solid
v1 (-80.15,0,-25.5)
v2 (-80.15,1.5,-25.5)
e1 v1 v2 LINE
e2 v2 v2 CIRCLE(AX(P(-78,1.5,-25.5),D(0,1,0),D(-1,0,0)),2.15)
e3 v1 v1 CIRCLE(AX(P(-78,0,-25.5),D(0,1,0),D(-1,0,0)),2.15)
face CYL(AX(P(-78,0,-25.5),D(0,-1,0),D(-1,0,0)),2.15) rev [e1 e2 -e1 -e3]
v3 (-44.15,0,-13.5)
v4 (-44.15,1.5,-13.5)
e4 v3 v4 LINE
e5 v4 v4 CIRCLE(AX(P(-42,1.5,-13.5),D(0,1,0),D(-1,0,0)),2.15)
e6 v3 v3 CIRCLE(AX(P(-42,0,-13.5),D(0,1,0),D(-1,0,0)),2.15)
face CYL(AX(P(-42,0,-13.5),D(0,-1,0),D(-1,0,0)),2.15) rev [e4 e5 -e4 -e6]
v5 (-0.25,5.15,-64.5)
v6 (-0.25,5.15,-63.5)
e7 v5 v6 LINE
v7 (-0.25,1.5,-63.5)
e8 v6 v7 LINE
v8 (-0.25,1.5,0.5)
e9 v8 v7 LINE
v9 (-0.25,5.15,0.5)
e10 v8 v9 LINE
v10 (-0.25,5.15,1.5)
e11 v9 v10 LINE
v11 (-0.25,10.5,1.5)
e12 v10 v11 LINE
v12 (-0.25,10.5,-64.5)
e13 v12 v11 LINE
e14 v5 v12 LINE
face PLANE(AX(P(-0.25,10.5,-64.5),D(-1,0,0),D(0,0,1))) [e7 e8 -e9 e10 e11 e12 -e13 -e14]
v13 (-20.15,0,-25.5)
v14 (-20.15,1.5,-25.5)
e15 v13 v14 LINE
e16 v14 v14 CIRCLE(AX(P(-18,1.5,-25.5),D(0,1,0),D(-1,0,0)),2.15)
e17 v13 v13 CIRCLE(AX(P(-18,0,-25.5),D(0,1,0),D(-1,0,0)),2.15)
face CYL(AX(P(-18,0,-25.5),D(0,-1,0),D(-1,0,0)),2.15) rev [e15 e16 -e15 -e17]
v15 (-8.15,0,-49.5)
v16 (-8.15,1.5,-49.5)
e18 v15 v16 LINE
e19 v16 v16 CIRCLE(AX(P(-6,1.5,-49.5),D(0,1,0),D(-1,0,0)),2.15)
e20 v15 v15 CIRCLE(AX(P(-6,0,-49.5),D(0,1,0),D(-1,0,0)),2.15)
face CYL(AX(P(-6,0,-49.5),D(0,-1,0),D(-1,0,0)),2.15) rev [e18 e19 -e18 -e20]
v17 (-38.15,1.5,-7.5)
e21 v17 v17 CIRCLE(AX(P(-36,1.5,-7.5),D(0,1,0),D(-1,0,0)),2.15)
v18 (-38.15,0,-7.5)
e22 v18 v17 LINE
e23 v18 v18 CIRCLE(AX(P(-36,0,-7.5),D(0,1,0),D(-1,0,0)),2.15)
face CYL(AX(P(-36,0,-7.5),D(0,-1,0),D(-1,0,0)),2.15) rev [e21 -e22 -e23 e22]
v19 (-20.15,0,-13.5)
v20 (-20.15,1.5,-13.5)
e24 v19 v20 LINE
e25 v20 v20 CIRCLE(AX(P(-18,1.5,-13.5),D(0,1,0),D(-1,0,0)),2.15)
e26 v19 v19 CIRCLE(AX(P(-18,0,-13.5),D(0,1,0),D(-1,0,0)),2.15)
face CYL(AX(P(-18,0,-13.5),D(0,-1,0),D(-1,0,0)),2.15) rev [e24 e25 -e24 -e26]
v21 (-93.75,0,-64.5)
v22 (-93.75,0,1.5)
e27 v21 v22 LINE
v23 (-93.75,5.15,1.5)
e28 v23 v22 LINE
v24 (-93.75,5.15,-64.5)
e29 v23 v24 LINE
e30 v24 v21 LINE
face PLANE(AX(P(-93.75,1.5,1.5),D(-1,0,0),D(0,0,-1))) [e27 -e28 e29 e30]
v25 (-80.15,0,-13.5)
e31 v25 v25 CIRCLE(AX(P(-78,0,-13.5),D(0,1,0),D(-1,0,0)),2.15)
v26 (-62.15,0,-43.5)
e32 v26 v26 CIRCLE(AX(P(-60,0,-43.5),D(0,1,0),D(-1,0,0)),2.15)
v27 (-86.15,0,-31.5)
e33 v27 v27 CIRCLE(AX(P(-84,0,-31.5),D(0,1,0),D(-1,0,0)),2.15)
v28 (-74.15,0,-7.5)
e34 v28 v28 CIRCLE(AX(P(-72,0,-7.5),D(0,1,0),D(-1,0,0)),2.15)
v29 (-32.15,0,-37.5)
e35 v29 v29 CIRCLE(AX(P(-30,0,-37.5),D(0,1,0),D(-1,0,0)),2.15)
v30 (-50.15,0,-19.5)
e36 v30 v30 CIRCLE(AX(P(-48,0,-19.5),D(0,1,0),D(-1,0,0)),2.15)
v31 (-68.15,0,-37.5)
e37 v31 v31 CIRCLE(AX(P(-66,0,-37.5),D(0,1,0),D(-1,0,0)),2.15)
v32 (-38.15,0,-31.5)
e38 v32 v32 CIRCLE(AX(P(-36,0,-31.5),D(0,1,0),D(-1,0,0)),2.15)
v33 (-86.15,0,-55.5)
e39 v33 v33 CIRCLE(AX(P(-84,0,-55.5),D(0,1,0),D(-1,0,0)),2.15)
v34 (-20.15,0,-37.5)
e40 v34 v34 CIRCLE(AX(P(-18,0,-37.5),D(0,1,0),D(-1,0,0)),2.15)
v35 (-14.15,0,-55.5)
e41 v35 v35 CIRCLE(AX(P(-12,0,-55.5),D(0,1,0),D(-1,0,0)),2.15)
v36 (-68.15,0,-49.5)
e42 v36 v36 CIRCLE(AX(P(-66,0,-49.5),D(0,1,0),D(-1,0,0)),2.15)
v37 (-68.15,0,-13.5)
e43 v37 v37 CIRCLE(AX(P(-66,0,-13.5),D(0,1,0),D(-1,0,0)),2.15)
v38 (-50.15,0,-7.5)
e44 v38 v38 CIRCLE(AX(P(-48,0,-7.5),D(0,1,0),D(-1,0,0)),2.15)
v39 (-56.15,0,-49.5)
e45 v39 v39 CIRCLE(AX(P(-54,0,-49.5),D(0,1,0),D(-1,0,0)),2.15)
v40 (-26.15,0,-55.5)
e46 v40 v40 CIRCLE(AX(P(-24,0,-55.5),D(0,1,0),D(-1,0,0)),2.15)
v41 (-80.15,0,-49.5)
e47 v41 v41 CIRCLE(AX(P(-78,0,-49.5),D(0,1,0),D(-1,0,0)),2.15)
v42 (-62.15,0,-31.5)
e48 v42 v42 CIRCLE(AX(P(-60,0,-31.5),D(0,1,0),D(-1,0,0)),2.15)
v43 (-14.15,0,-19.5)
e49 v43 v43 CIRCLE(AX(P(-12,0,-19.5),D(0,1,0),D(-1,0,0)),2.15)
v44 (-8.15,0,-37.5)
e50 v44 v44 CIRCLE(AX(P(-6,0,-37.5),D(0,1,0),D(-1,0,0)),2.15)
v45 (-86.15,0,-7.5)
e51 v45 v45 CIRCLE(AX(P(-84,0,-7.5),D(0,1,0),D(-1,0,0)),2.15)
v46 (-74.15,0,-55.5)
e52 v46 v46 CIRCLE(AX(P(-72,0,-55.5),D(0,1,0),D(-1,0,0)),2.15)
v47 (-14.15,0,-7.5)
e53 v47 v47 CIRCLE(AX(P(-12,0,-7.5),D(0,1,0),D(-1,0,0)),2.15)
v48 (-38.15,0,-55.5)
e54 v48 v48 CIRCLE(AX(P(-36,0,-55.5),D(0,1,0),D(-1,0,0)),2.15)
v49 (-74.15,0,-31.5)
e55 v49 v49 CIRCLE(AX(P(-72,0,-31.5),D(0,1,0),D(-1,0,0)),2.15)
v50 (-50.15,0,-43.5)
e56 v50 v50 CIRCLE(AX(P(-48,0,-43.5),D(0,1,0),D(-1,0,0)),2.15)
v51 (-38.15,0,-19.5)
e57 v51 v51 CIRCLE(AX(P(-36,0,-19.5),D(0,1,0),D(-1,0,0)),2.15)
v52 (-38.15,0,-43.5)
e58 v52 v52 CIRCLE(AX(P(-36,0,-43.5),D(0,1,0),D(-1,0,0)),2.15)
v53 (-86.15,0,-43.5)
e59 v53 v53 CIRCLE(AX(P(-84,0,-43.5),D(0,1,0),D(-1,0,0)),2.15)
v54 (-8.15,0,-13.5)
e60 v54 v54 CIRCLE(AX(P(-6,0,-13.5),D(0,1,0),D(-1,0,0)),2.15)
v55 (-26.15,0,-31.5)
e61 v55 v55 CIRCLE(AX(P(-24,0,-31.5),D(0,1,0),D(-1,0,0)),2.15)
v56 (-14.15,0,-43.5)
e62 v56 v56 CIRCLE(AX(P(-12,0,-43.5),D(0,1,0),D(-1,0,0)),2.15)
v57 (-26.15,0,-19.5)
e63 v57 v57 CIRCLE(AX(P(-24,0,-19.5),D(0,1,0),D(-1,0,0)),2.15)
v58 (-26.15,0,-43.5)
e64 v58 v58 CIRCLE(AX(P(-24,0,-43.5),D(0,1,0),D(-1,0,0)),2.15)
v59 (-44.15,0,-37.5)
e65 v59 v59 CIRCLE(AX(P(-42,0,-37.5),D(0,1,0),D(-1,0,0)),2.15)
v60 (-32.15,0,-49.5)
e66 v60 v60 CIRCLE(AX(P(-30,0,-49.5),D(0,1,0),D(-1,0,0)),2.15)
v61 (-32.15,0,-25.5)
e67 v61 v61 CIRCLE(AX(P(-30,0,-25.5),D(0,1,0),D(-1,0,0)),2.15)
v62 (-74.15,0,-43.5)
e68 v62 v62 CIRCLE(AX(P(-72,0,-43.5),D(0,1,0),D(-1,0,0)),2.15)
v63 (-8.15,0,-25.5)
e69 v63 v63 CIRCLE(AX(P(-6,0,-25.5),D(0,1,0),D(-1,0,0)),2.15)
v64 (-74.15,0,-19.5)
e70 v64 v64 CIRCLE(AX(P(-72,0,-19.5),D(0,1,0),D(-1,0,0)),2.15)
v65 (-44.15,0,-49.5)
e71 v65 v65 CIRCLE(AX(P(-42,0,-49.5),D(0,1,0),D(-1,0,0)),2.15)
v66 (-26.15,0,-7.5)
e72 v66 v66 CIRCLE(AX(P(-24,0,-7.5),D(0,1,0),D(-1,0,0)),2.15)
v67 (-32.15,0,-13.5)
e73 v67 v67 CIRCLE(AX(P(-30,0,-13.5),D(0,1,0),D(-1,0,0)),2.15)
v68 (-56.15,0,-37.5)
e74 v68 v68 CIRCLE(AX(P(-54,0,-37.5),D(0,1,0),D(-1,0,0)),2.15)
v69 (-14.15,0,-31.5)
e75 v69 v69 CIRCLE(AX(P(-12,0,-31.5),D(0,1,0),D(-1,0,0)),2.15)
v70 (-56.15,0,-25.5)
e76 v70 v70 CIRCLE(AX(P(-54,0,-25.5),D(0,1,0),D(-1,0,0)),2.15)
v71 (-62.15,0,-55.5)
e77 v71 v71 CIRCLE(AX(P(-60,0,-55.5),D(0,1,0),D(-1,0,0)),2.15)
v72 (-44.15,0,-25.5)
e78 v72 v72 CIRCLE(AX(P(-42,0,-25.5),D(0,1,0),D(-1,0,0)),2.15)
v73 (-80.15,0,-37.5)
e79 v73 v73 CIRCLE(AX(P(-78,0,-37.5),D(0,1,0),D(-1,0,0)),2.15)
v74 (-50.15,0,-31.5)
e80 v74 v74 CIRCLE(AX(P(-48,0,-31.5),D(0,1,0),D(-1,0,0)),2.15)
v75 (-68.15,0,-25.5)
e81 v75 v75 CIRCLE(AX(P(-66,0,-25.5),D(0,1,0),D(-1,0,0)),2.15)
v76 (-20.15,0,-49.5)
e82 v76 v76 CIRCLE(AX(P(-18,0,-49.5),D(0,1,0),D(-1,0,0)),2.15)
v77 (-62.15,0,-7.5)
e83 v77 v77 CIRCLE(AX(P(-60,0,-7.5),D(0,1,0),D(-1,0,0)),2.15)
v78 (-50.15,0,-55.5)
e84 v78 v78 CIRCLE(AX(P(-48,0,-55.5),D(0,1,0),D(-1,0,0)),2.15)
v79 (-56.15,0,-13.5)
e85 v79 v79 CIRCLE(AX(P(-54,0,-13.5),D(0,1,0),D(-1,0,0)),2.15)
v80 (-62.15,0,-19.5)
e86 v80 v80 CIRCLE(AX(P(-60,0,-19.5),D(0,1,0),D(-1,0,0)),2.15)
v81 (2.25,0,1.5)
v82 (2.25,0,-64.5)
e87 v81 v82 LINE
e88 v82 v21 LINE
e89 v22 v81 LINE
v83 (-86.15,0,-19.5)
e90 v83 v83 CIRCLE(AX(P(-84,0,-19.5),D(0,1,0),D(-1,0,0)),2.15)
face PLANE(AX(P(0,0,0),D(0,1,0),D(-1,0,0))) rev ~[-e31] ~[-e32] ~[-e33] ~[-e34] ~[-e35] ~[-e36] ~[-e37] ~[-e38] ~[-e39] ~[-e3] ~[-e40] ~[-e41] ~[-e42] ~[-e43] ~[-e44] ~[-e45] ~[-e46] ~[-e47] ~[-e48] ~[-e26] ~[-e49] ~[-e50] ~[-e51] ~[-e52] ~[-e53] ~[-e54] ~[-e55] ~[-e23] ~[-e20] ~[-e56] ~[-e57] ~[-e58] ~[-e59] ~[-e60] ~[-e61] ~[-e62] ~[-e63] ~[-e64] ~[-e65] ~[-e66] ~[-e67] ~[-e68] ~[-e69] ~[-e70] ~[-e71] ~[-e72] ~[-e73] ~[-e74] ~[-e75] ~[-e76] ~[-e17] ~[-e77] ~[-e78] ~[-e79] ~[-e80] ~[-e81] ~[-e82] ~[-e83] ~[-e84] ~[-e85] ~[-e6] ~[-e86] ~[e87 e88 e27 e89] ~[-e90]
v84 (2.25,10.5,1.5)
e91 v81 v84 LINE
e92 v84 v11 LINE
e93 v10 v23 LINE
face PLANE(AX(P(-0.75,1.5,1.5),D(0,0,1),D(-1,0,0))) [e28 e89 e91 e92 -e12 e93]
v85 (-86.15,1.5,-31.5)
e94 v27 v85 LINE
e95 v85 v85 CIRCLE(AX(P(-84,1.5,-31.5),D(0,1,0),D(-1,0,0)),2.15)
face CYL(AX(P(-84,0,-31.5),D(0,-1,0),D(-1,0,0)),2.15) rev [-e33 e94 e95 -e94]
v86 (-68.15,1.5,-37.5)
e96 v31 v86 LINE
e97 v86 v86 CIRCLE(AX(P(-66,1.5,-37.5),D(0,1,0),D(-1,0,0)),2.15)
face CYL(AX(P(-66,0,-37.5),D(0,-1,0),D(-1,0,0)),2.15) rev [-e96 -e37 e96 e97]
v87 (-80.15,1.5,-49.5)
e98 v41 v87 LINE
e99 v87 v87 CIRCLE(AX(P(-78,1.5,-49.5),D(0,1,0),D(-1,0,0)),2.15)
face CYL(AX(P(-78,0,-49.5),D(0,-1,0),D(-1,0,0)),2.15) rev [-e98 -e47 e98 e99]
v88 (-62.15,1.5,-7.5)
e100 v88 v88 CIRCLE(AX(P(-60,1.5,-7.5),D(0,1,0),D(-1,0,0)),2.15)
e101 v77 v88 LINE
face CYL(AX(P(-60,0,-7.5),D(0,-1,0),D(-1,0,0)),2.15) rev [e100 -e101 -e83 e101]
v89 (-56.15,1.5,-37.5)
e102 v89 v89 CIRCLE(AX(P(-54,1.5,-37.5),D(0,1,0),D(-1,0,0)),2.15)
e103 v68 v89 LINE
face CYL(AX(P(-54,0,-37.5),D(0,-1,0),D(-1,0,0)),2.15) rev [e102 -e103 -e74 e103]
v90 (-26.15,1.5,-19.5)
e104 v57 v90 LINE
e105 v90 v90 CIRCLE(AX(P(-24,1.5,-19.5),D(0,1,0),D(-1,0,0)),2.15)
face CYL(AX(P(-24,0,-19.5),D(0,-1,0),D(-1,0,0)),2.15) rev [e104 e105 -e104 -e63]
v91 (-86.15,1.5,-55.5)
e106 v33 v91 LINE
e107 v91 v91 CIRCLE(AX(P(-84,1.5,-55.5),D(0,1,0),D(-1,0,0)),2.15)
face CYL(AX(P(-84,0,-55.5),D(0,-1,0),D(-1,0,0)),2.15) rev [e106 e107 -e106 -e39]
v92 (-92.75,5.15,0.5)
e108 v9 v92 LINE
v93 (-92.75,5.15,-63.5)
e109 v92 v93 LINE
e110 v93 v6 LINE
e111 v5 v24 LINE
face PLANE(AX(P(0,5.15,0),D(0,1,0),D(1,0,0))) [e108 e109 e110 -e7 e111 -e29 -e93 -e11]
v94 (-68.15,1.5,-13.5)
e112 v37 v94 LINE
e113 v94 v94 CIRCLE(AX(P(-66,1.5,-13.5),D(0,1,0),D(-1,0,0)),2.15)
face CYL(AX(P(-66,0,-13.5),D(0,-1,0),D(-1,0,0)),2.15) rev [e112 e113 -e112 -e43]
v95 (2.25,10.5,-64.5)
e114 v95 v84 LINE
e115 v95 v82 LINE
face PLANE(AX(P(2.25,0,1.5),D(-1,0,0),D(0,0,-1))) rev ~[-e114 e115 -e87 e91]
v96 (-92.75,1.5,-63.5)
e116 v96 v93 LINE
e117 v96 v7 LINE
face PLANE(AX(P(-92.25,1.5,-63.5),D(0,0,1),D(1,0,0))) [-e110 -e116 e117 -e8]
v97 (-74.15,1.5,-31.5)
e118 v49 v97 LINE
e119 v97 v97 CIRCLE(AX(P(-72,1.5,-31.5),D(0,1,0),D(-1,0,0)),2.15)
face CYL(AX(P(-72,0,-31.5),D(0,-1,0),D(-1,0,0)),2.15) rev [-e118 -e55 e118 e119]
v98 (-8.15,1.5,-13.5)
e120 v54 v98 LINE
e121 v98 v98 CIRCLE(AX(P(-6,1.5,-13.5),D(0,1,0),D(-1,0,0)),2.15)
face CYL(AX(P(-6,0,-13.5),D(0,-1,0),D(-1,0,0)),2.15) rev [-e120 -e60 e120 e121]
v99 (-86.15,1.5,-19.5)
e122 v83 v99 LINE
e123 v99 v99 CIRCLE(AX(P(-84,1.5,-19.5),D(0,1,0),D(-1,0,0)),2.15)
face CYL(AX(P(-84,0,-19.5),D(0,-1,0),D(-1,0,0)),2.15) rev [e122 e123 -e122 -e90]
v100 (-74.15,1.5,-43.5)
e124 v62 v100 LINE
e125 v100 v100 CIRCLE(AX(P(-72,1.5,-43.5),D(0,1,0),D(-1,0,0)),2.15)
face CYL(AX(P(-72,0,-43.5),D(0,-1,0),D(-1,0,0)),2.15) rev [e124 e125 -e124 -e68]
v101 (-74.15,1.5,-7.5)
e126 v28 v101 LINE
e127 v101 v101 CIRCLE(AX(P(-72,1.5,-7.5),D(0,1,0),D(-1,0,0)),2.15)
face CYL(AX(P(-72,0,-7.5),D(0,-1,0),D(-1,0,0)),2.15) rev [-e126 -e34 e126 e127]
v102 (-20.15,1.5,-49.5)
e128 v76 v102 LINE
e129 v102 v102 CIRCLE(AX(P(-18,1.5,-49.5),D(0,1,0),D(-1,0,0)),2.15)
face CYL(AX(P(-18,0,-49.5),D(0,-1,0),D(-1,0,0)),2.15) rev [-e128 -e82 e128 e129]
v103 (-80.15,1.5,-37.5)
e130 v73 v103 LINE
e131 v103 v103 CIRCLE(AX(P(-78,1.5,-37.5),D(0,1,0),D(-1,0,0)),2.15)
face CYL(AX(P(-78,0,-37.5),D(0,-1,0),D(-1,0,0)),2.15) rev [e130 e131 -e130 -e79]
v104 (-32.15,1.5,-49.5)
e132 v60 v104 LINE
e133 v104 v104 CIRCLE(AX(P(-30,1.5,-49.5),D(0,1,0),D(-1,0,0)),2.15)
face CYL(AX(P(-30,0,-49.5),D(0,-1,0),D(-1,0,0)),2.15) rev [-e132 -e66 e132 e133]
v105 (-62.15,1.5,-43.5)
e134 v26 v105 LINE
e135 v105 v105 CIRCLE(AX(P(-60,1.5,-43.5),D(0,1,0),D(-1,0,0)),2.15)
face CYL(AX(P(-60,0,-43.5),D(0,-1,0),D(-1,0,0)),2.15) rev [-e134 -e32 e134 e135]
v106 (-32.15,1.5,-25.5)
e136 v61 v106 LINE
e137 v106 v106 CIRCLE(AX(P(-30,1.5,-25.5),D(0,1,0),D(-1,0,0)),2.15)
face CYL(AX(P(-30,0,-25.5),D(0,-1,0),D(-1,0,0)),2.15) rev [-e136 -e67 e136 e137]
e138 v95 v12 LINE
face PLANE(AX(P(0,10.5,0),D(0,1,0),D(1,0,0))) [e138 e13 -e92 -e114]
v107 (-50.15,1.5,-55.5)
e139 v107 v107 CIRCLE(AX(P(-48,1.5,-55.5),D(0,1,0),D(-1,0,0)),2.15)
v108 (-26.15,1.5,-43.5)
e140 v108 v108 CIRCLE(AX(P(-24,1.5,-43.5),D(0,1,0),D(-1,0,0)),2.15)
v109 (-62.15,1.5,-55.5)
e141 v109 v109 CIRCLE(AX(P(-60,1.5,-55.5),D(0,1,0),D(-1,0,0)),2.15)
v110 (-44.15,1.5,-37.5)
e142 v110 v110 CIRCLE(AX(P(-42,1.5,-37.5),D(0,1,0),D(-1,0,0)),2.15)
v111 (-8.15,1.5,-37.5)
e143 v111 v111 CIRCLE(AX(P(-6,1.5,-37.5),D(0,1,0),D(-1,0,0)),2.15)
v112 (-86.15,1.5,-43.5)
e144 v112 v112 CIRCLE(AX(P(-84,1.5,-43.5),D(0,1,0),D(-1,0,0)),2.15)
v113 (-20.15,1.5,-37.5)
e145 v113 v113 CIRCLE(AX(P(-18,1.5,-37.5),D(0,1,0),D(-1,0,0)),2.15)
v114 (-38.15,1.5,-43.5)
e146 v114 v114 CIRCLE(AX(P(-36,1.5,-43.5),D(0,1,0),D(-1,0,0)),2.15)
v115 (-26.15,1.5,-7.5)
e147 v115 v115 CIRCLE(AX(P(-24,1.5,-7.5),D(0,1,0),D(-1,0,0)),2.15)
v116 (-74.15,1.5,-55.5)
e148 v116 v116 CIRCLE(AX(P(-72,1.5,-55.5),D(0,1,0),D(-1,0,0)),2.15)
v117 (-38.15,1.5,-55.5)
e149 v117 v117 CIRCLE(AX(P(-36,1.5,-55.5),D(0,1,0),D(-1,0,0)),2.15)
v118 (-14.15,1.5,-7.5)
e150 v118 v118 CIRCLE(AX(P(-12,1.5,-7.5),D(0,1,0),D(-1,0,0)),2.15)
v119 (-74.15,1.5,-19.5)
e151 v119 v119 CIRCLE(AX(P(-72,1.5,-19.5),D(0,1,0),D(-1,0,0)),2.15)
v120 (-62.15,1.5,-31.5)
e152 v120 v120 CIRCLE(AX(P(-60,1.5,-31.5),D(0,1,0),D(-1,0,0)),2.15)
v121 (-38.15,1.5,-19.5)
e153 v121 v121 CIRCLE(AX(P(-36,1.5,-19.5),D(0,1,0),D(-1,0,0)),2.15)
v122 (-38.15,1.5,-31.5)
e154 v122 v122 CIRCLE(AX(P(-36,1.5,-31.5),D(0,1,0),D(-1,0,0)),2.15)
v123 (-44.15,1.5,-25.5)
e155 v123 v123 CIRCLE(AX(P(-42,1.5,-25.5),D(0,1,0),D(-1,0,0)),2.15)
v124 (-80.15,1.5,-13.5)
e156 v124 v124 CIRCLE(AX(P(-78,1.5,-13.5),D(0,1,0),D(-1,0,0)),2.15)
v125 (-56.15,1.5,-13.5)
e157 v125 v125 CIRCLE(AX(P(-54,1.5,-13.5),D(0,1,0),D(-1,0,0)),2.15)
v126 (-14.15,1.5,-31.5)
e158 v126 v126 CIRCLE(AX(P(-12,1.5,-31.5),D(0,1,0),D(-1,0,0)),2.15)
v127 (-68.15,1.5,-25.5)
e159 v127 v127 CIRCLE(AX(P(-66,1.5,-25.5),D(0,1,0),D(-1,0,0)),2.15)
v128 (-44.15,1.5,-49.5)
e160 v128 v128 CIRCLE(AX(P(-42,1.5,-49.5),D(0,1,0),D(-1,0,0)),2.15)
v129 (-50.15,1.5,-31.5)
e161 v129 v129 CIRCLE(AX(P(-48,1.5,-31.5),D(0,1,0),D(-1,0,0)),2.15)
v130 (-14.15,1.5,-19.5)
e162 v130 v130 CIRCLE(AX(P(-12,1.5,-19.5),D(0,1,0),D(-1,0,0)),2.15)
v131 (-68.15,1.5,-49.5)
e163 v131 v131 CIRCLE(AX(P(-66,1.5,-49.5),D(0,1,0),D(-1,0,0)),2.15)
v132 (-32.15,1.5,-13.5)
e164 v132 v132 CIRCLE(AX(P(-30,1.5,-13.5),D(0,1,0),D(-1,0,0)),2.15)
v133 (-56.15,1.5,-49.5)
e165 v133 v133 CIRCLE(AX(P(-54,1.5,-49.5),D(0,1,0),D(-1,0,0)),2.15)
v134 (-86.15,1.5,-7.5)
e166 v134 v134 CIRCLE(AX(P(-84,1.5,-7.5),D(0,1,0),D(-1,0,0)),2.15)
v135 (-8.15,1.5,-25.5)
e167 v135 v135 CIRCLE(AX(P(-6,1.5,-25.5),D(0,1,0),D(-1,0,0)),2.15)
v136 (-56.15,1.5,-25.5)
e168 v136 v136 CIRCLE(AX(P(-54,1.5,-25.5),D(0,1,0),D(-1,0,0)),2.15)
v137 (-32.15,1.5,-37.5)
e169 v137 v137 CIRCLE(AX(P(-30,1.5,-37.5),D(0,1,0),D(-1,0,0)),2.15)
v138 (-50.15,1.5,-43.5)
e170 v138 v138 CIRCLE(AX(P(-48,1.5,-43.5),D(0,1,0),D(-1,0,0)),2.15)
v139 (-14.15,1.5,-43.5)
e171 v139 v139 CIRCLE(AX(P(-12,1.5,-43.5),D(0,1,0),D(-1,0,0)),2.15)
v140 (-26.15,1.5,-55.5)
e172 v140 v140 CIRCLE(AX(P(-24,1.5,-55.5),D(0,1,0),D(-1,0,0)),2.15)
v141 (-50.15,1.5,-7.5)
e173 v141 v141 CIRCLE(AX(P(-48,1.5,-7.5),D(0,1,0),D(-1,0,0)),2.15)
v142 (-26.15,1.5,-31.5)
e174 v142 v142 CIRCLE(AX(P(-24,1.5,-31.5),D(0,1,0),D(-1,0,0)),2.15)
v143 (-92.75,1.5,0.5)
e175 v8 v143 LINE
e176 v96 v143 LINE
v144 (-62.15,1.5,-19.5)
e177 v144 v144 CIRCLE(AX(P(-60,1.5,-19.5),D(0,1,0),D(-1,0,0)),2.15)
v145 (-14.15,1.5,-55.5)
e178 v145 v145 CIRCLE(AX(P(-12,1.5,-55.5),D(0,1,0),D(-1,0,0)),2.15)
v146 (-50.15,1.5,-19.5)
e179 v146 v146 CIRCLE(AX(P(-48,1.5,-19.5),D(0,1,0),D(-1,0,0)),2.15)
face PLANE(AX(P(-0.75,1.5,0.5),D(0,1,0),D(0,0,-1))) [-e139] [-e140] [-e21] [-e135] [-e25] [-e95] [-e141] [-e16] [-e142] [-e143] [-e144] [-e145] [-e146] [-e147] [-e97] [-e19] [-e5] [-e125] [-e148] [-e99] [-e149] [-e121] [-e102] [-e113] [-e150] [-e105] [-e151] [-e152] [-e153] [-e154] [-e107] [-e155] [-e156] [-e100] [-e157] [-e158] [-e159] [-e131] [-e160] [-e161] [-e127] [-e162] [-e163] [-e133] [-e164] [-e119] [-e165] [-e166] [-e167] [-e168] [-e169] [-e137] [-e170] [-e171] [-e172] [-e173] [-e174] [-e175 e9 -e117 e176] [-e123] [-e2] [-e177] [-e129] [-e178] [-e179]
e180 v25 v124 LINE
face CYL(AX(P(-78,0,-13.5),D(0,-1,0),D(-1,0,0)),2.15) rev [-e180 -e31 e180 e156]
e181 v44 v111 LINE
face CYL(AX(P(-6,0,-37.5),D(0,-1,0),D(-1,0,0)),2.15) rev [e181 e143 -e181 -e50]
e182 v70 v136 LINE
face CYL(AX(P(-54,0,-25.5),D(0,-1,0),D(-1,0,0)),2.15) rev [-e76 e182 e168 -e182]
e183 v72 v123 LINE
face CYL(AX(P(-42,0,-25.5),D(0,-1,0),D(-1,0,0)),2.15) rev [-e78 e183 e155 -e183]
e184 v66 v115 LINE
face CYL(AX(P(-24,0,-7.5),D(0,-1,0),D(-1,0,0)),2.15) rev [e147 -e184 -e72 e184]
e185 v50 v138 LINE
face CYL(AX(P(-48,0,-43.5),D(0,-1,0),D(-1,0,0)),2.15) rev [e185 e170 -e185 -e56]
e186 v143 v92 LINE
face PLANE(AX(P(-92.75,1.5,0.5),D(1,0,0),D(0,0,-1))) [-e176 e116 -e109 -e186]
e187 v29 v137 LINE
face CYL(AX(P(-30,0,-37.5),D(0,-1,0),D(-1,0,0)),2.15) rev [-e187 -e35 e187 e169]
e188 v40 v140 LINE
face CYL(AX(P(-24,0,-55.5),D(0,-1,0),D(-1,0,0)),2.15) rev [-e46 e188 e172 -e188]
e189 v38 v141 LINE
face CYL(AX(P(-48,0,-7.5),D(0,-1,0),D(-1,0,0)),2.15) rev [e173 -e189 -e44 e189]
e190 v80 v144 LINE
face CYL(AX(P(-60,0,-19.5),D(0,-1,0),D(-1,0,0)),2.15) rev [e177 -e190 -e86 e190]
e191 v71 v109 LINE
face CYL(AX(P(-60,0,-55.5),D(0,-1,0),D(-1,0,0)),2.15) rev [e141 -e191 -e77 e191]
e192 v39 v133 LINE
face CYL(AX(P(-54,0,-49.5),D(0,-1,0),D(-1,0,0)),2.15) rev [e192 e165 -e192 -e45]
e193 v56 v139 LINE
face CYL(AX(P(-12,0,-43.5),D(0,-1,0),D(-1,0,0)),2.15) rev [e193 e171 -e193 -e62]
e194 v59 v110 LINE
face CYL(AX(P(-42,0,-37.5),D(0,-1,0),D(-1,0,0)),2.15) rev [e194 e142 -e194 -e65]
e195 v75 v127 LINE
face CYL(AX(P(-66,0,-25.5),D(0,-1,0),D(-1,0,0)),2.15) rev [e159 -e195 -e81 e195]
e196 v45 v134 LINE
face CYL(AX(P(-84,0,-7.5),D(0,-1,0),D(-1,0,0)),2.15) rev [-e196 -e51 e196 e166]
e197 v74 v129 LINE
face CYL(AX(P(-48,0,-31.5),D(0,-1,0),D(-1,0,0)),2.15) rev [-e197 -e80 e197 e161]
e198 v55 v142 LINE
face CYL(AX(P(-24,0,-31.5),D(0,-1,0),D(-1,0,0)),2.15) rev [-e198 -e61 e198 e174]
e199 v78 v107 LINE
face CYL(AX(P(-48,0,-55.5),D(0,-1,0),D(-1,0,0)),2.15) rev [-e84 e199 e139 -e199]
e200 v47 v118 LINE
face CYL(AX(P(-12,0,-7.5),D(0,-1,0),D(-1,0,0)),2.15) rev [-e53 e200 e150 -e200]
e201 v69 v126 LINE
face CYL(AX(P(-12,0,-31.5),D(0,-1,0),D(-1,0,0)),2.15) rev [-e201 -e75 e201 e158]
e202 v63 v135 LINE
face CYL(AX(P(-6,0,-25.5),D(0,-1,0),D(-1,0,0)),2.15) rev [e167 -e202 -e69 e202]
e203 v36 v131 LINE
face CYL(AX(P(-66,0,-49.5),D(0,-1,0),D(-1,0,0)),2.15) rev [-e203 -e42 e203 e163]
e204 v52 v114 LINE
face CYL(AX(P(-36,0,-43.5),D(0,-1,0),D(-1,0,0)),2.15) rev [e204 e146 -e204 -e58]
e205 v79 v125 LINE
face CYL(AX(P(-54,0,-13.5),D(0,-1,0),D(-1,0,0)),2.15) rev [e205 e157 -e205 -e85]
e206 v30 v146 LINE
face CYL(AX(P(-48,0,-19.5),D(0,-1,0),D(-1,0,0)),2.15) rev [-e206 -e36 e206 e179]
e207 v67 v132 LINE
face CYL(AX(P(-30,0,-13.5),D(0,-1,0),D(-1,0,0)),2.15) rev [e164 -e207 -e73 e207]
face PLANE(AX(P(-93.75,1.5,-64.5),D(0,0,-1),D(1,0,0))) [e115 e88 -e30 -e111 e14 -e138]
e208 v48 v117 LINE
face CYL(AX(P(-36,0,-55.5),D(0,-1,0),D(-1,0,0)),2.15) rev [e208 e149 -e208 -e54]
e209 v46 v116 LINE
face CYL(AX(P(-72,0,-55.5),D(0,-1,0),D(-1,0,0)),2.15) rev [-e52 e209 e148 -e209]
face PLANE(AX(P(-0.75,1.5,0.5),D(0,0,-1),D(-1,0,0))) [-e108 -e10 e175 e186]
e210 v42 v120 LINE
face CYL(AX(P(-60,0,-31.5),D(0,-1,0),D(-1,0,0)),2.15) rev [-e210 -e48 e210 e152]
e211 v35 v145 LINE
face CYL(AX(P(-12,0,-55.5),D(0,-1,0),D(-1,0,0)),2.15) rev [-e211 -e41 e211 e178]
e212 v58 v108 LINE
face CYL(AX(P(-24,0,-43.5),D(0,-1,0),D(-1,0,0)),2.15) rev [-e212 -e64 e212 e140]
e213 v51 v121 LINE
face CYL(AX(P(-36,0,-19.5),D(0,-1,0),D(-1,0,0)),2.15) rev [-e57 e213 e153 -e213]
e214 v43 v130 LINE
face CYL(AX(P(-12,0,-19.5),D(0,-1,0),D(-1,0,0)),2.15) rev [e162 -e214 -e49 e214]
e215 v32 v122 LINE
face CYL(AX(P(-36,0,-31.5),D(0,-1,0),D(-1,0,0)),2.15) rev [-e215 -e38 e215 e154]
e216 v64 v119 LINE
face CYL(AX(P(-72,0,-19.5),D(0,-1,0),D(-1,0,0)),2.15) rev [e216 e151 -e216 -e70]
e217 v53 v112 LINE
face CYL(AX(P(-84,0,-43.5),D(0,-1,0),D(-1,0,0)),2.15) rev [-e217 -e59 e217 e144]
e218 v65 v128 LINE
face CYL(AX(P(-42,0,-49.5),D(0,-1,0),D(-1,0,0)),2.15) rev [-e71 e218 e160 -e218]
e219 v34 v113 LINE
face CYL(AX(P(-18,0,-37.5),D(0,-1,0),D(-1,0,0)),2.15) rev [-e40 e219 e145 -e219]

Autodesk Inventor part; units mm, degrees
ref_plane "YZ Plane" through (0, 0, 0) normal (1, 0, 0) x (0, 1, 0)
ref_plane "XZ Plane" through (0, 0, 0) normal (0, 1, 0) x (-1, 0, 0)
ref_plane "XY Plane" through (0, 0, 0) normal (0, 0, 1) x (1, 0, 0)
sketch "Sketch1" plane through (0, 0, 0) normal (0, 1, 0) x (-1, 0, 0)
  line L0 (0, 0) -> (91.5, 0)
  line L1 (91.5, 0) -> (91.5, -63)
  line L2 (91.5, -63) -> (0, -63)
  circle A0 centre (84, -7.5) radius 2.15
  circle A1 centre (84, -19.5) radius 2.15
  circle A2 centre (84, -31.5) radius 2.15
  circle A3 centre (84, -55.5) radius 2.15
  circle A4 centre (84, -43.5) radius 2.15
  circle A5 centre (78, -13.5) radius 2.15
  circle A6 centre (78, -25.5) radius 2.15
  circle A7 centre (78, -37.5) radius 2.15
  circle A8 centre (78, -49.5) radius 2.15
  circle A9 centre (66, -13.5) radius 2.15
  circle A10 centre (66, -25.5) radius 2.15
  circle A11 centre (66, -37.5) radius 2.15
  circle A12 centre (66, -49.5) radius 2.15
  circle A13 centre (72, -31.5) radius 2.15
  circle A14 centre (72, -19.5) radius 2.15
  circle A15 centre (72, -7.5) radius 2.15
  circle A16 centre (72, -55.5) radius 2.15
  circle A17 centre (72, -43.5) radius 2.15
  line L3 (66, -55.5) -> (63, -55.5)
  line L4 (63, -55.5) -> (63, -45.305)
  circle A18 centre (42, -13.5) radius 2.15
  circle A19 centre (42, -25.5) radius 2.15
  circle A20 centre (42, -37.5) radius 2.15
  circle A21 centre (42, -49.5) radius 2.15
  circle A22 centre (48, -31.5) radius 2.15
  circle A23 centre (48, -19.5) radius 2.15
  circle A24 centre (48, -7.5) radius 2.15
  circle A25 centre (48, -55.5) radius 2.15
  circle A26 centre (48, -43.5) radius 2.15
  circle A27 centre (54, -37.5) radius 2.15
  circle A28 centre (60, -31.5) radius 2.15
  circle A29 centre (54, -25.5) radius 2.15
  circle A30 centre (60, -19.5) radius 2.15
  circle A31 centre (54, -13.5) radius 2.15
  circle A32 centre (60, -7.5) radius 2.15
  circle A33 centre (60, -43.5) radius 2.15
  circle A34 centre (54, -49.5) radius 2.15
  circle A35 centre (60, -55.5) radius 2.15
  line L5 (42, -55.5) -> (39, -55.5)
  line L6 (39, -55.5) -> (39, -51.65)
  circle A36 centre (6, -37.5) radius 2.15
  circle A37 centre (12, -31.5) radius 2.15
  circle A38 centre (6, -25.5) radius 2.15
  circle A39 centre (12, -19.5) radius 2.15
  circle A40 centre (6, -13.5) radius 2.15
  circle A41 centre (12, -7.5) radius 2.15
  circle A42 centre (12, -43.5) radius 2.15
  circle A43 centre (6, -49.5) radius 2.15
  circle A44 centre (12, -55.5) radius 2.15
  line L7 (12, -55.5) -> (15, -55.5)
  line L8 (15, -55.5) -> (15, -45.305)
  circle A45 centre (36, -43.5) radius 2.15
  circle A46 centre (30, -49.5) radius 2.15
  circle A47 centre (24, -55.5) radius 2.15
  circle A48 centre (24, -43.5) radius 2.15
  circle A49 centre (36, -55.5) radius 2.15
  circle A50 centre (36, -7.5) radius 2.15
  circle A51 centre (30, -25.5) radius 2.15
  circle A52 centre (30, -13.5) radius 2.15
  circle A53 centre (18, -25.5) radius 2.15
  circle A54 centre (24, -19.5) radius 2.15
  circle A55 centre (18, -13.5) radius 2.15
  circle A56 centre (24, -7.5) radius 2.15
  circle A57 centre (36, -19.5) radius 2.15
  circle A58 centre (36, -31.5) radius 2.15
  circle A59 centre (30, -37.5) radius 2.15
  circle A60 centre (24, -31.5) radius 2.15
  circle A61 centre (18, -49.5) radius 2.15
  circle A62 centre (18, -37.5) radius 2.15
  line L9 (36, -55.5) -> (39, -55.5)
  line L10 (0, 0) -> (0, -63)
  dimension "d0" = 91.5
  dimension "d1" = 63
  dimension "d2" = 4.3
  dimension "d3" = 7.5
  dimension "d4" = 7.5
  dimension "d11" = 4.3
  dimension "d17" = 3
  dimension "d18" = 3
extrude "Extrusion1" add sketch "Sketch1" along normal blind 1.5
sketch "Sketch2" plane through (0, 1.5, 0) normal (0, 1, 0) x (1, 0, 0)
  line L0 (3, 0) -> (3, -3)
  line L1 (3, -3) -> (-94.5, -3)
  line L2 (-94.5, -3) -> (-94.5, 66)
  line L3 (-94.5, 66) -> (3, 66)
  line L4 (3, 66) -> (3, 0)
  line L5 (-91.5, 63) -> (-91.5, 0) projected
  line L6 (0, 63) -> (-91.5, 63) projected
  line L7 (-91.5, 0) -> (0, 0)
  line L8 (0, 0) -> (0, 63)
  line L9 (0, 63) -> (-91.5, 63)
  line L10 (-91.5, 63) -> (-91.5, 0)
  dimension "d30" = 97.5
  dimension "d31" = 69
  dimension "d32" = 97.5
extrude "Extrusion2" add sketch "Sketch2" along normal blind 3.612 and the other way blind 1.5
sketch "Sketch5" plane through (0, 1.5, 0) normal (0, 1, 0) x (1, 0, 0)
  point P0 (0, 0)
sketch "Sketch6" plane through (0, 5.112, 0) normal (0, 1, 0) x (1, 0, 0)
  line L0 (0, 0) -> (0, 63) projected
  line L1 (3, 66) -> (3, -3) projected
  line L2 (0, 0) -> (3, 0)
  line L3 (3, 0) -> (3, 63)
  line L4 (3, 63) -> (0, 63)
  line L5 (0, 63) -> (0, 0)
extrude "Extrusion3" add sketch "Sketch6" along normal blind 5.388
sketch "Sketch7" plane through (-91.5, 1.5, -63) normal (0, 0, 1) x (1, 0, 0)
  point P0 (91.5, -1.5)
sketch "Sketch8" plane through (-91.5, 1.5, -63) normal (0, 0, 1) x (1, 0, 0)
  line L0 (91.5, 0) -> (0, 0) projected
  line L1 (0, 3.612) -> (91.5, 3.612) projected
  line L2 (0, 0) -> (91.5, 0)
  line L3 (91.5, 0) -> (91.5, 3.612)
  line L4 (91.5, 3.612) -> (0, 3.612)
  line L5 (0, 3.612) -> (0, 0)
  point P0 (91.5, -1.5)
extrude "Extrusion4" cut sketch "Sketch8" against normal blind 0.5
sketch "Sketch9" plane through (0, 1.5, 0) normal (0, 0, -1) x (-1, 0, 0)
  line L0 (0, 3.612) -> (91.5, 3.612) projected
  line L1 (91.5, 0) -> (0, 0) projected
  line L2 (91.5, 3.612) -> (0, 3.612)
  line L3 (0, 3.612) -> (0, 0)
  line L4 (0, 0) -> (91.5, 0)
  line L5 (91.5, 0) -> (91.5, 3.612)
  point P0 (0, -1.5)
extrude "Extrusion5" cut sketch "Sketch9" against normal blind 0.5
sketch "Sketch10" plane through (-91.5, 1.5, -63.5) normal (1, 0, 0) x (0, 0, -1)
  line L0 (0, 0) -> (0, 3.612) projected
  line L1 (0, 0) -> (-64, 0) projected
  line L2 (0, 3.612) -> (-64, 3.612)
  line L3 (-64, 3.612) -> (-64, 0)
  line L4 (-64, 0) -> (0, 0)
  line L5 (0, 0) -> (0, 3.612)
  point P0 (-63.5, -1.5)
extrude "Extrusion6" cut sketch "Sketch10" against normal blind 0.5
sketch "Sketch11" plane through (3, 5.112, -63) normal (0, 0, -1) x (-1, 0, 0)
  line L0 (0, 5.388) -> (3, 5.388) projected
  line L1 (0, 0) -> (0, 5.388) projected
  line L2 (3, 5.388) -> (0, 5.388)
  line L3 (0, 5.388) -> (0, 0)
  line L4 (0, 0) -> (3, 0)
  line L5 (3, 0) -> (3, 5.388)
  point P0 (3, -5.112)
extrude "Extrusion7" add sketch "Sketch11" along normal blind 3
sketch "Sketch12" plane through (0, 5.112, 0) normal (0, 0, 1) x (1, 0, 0)
  line L0 (0, 5.388) -> (3, 5.388) projected
  line L1 (-94.5, 0) -> (3, 0) projected
  line L2 (0, 5.388) -> (3, 5.388)
  line L3 (3, 5.388) -> (3, 0)
  line L4 (3, 0) -> (0, 0)
  line L5 (0, 0) -> (0, 5.388)
  point P0 (0, -5.112)
extrude "Extrusion8" add sketch "Sketch12" along normal blind 3
sketch "Sketch13" plane through (0, 0, 0) normal (0, -1, 0) x (1, 0, 0)
  line L0 (-94.5, 3) -> (0, 3) projected
  line L1 (-94.5, 3) -> (-93.75, 3)
  line L2 (-93.75, 1.5) -> (2.25, 1.5)
  line L3 (2.25, 1.5) -> (2.25, -64.5)
  line L4 (2.25, -64.5) -> (-93.75, -64.5)
  line L5 (-93.75, -64.5) -> (-93.75, 1.5)
  line L6 (3, -66) -> (3, 3) projected
  line L7 (-94.5, 3) -> (3, 3)
  line L8 (3, 3) -> (3, -66)
  line L9 (3, -66) -> (-94.5, -66)
  line L10 (-94.5, -66) -> (-94.5, 3)
  point P0 (0, 0)
  dimension "d45" = 0.75
  dimension "d46" = 1.5
  dimension "d47" = 96
  dimension "d48" = 66
extrude "Extrusion9" cut sketch "Sketch13" against normal through all
sketch "Sketch14" plane through (-93.75, 0, -64.5) normal (-1, 0, 0) x (0, 0, 1)
  line L0 (0, 5.112) -> (66, 5.112) projected
  line L1 (0, 0) -> (0, 5.112) projected
  line L2 (66, 5.112) -> (0, 5.112)
  line L3 (0, 5.112) -> (0, 1.5)
  line L4 (0, 1.5) -> (66, 1.5)
  line L5 (66, 1.5) -> (66, 5.112)
  point P0 (64.5, 0)
extrude "Extrusion10" cut sketch "Sketch14" against normal through all
sketch "Sketch15" plane through (0, 10.5, 1.5) normal (0, 0, 1) x (1, 0, 0)
  line L0 (2.25, -5.388) -> (2.25, 0) projected
  line L1 (0, -5.388) -> (0, 0) projected
  line L2 (2.25, -5.388) -> (0, -5.388)
  line L3 (0, -5.388) -> (0, 0)
  line L4 (0, 0) -> (2.25, 0)
  line L5 (2.25, 0) -> (2.25, -5.388)
  point P0 (0, -10.5)
extrude "Extrusion11" cut sketch "Sketch15" against normal through all
sketch "Sketch16" plane through (0, 1.5, 0) normal (0, 1, 0) x (1, 0, 0)
  line L0 (2.25, 64.5) -> (2.25, -1.5) projected
  line L1 (2.25, -1.5) -> (-0.75, -1.5)
  line L2 (-0.75, -1.5) -> (-0.75, 3.5)
  line L3 (-0.75, 3.5) -> (2.25, 3.5)
  line L4 (2.25, 3.5) -> (2.25, -1.5)
  line L5 (2.25, 64.5) -> (-0.75, 64.5)
  line L6 (-0.75, 64.5) -> (-0.75, 59.5)
  line L7 (-0.75, 59.5) -> (2.25, 59.5)
  line L8 (2.25, 59.5) -> (2.25, 64.5)
  line L9 (2.25, 3.5) -> (-0.75, 3.5)
  line L10 (-0.75, 3.5) -> (-0.75, 59.5)
  line L11 (-0.75, 59.5) -> (2.25, 59.5)
  line L12 (2.25, 59.5) -> (2.25, 3.5)
  point P0 (0, 0)
  dimension "d55" = 3
  dimension "d56" = 5
  dimension "d57" = 3
  dimension "d58" = 5
extrude "Extrusion12" add sketch "Sketch16" along normal blind 9
sketch "Sketch17" plane through (0, 1.5, 0) normal (0, 1, 0) x (1, 0, 0)
  line L0 (-0.75, -1.5) -> (-93.75, -1.5) projected
  line L1 (-0.75, -1.5) -> (-0.75, 0)
  line L2 (-0.75, -1.5) -> (-0.75, 64.5) projected
  line L3 (-93.75, -1.5) -> (-93.75, 64.5) projected
  line L4 (-93.75, -1.5) -> (-93.75, 64.5)
  line L5 (-93.75, 64.5) -> (-0.75, 64.5) projected
  line L6 (-93.75, 64.5) -> (-0.75, 64.5)
  line L7 (-0.75, 64.5) -> (-0.75, 63)
  line L8 (-92.25, 63) -> (-0.75, 63)
  line L9 (-0.75, 0) -> (-92.25, 0)
  line L10 (-92.25, 0) -> (-92.25, 63)
  point P0 (0, 0)
  dimension "d61" = 1.5
extrude "Extrusion13" add sketch "Sketch17" along normal blind 3.65 contours L0 L3 L5 L2 L8 L10 L9 L1
sketch "Sketch18" plane through (-0.75, 1.5, 0) normal (0, 0, -1) x (-1, 0, 0)
  line L0 (91.5, 0) -> (91.5, 3.65) projected
  line L1 (0, 0) -> (0, 3.65) projected
  line L2 (91.5, 3.65) -> (0, 3.65)
  line L3 (0, 3.65) -> (0, 0)
  line L4 (0, 0) -> (91.5, 0)
  line L5 (91.5, 0) -> (91.5, 3.65)
  point P0 (-0.75, -1.5)
extrude "Extrusion14" cut sketch "Sketch18" against normal blind 0.5
sketch "Sketch19" plane through (-92.25, 1.5, -63) normal (0, 0, 1) x (1, 0, 0)
  line L0 (91.5, 0) -> (0, 0) projected
  line L1 (0, 0) -> (0, 3.65) projected
  line L2 (91.5, 0) -> (0, 0)
  line L3 (0, 0) -> (0, 3.65)
  line L4 (0, 3.65) -> (91.5, 3.65)
  line L5 (91.5, 3.65) -> (91.5, 0)
  point P0 (92.25, -1.5)
extrude "Extrusion15" cut sketch "Sketch19" against normal blind 0.5
sketch "Sketch20" plane through (-92.25, 1.5, 0.5) normal (1, 0, 0) x (0, 0, -1)
  line L0 (64, 0) -> (64, 3.65) projected
  line L1 (64, 0) -> (0, 0)
  line L2 (0, 0) -> (0, 3.65)
  line L3 (0, 3.65) -> (64, 3.65)
  line L4 (64, 3.65) -> (64, 0)
  point P0 (0.5, -1.5)
extrude "Extrusion16" cut sketch "Sketch20" against normal blind 0.5
sketch "Sketch21" plane through (-0.75, 10.5, -64.5) normal (-1, 0, 0) x (0, 0, 1)
  line L0 (1, -5.35) -> (1, -9) projected
  line L1 (1, -9) -> (1, -5.35)
  line L2 (0, -5.35) -> (1, -5.35) projected
  line L3 (1, -5.35) -> (0, -5.35)
  line L4 (0, -5.35) -> (0, 0)
  line L5 (66, -5.35) -> (66, 0) projected
  line L6 (0, 0) -> (66, 0)
  line L7 (65, -5.35) -> (66, -5.35) projected
  line L8 (66, -5.4693) -> (65, -5.35)
  line L9 (65, -9) -> (65, -5.35) projected
  line L10 (65, -5.35) -> (65, -9)
  line L11 (65, -5.35) -> (66, -5.35)
  line L12 (66, -5.35) -> (66, 0)
  line L13 (65, -9) -> (1, -9) projected
  line L14 (65, -9) -> (1, -9)
  line L15 (1, -9) -> (1, -5.35)
  line L16 (1, -5.35) -> (0, -5.35)
  point P0 (64.5, -10.5)
extrude "Extrusion17" cut sketch "Sketch21" against normal blind 0.5
properties part number "RaspPiCaseTop"
